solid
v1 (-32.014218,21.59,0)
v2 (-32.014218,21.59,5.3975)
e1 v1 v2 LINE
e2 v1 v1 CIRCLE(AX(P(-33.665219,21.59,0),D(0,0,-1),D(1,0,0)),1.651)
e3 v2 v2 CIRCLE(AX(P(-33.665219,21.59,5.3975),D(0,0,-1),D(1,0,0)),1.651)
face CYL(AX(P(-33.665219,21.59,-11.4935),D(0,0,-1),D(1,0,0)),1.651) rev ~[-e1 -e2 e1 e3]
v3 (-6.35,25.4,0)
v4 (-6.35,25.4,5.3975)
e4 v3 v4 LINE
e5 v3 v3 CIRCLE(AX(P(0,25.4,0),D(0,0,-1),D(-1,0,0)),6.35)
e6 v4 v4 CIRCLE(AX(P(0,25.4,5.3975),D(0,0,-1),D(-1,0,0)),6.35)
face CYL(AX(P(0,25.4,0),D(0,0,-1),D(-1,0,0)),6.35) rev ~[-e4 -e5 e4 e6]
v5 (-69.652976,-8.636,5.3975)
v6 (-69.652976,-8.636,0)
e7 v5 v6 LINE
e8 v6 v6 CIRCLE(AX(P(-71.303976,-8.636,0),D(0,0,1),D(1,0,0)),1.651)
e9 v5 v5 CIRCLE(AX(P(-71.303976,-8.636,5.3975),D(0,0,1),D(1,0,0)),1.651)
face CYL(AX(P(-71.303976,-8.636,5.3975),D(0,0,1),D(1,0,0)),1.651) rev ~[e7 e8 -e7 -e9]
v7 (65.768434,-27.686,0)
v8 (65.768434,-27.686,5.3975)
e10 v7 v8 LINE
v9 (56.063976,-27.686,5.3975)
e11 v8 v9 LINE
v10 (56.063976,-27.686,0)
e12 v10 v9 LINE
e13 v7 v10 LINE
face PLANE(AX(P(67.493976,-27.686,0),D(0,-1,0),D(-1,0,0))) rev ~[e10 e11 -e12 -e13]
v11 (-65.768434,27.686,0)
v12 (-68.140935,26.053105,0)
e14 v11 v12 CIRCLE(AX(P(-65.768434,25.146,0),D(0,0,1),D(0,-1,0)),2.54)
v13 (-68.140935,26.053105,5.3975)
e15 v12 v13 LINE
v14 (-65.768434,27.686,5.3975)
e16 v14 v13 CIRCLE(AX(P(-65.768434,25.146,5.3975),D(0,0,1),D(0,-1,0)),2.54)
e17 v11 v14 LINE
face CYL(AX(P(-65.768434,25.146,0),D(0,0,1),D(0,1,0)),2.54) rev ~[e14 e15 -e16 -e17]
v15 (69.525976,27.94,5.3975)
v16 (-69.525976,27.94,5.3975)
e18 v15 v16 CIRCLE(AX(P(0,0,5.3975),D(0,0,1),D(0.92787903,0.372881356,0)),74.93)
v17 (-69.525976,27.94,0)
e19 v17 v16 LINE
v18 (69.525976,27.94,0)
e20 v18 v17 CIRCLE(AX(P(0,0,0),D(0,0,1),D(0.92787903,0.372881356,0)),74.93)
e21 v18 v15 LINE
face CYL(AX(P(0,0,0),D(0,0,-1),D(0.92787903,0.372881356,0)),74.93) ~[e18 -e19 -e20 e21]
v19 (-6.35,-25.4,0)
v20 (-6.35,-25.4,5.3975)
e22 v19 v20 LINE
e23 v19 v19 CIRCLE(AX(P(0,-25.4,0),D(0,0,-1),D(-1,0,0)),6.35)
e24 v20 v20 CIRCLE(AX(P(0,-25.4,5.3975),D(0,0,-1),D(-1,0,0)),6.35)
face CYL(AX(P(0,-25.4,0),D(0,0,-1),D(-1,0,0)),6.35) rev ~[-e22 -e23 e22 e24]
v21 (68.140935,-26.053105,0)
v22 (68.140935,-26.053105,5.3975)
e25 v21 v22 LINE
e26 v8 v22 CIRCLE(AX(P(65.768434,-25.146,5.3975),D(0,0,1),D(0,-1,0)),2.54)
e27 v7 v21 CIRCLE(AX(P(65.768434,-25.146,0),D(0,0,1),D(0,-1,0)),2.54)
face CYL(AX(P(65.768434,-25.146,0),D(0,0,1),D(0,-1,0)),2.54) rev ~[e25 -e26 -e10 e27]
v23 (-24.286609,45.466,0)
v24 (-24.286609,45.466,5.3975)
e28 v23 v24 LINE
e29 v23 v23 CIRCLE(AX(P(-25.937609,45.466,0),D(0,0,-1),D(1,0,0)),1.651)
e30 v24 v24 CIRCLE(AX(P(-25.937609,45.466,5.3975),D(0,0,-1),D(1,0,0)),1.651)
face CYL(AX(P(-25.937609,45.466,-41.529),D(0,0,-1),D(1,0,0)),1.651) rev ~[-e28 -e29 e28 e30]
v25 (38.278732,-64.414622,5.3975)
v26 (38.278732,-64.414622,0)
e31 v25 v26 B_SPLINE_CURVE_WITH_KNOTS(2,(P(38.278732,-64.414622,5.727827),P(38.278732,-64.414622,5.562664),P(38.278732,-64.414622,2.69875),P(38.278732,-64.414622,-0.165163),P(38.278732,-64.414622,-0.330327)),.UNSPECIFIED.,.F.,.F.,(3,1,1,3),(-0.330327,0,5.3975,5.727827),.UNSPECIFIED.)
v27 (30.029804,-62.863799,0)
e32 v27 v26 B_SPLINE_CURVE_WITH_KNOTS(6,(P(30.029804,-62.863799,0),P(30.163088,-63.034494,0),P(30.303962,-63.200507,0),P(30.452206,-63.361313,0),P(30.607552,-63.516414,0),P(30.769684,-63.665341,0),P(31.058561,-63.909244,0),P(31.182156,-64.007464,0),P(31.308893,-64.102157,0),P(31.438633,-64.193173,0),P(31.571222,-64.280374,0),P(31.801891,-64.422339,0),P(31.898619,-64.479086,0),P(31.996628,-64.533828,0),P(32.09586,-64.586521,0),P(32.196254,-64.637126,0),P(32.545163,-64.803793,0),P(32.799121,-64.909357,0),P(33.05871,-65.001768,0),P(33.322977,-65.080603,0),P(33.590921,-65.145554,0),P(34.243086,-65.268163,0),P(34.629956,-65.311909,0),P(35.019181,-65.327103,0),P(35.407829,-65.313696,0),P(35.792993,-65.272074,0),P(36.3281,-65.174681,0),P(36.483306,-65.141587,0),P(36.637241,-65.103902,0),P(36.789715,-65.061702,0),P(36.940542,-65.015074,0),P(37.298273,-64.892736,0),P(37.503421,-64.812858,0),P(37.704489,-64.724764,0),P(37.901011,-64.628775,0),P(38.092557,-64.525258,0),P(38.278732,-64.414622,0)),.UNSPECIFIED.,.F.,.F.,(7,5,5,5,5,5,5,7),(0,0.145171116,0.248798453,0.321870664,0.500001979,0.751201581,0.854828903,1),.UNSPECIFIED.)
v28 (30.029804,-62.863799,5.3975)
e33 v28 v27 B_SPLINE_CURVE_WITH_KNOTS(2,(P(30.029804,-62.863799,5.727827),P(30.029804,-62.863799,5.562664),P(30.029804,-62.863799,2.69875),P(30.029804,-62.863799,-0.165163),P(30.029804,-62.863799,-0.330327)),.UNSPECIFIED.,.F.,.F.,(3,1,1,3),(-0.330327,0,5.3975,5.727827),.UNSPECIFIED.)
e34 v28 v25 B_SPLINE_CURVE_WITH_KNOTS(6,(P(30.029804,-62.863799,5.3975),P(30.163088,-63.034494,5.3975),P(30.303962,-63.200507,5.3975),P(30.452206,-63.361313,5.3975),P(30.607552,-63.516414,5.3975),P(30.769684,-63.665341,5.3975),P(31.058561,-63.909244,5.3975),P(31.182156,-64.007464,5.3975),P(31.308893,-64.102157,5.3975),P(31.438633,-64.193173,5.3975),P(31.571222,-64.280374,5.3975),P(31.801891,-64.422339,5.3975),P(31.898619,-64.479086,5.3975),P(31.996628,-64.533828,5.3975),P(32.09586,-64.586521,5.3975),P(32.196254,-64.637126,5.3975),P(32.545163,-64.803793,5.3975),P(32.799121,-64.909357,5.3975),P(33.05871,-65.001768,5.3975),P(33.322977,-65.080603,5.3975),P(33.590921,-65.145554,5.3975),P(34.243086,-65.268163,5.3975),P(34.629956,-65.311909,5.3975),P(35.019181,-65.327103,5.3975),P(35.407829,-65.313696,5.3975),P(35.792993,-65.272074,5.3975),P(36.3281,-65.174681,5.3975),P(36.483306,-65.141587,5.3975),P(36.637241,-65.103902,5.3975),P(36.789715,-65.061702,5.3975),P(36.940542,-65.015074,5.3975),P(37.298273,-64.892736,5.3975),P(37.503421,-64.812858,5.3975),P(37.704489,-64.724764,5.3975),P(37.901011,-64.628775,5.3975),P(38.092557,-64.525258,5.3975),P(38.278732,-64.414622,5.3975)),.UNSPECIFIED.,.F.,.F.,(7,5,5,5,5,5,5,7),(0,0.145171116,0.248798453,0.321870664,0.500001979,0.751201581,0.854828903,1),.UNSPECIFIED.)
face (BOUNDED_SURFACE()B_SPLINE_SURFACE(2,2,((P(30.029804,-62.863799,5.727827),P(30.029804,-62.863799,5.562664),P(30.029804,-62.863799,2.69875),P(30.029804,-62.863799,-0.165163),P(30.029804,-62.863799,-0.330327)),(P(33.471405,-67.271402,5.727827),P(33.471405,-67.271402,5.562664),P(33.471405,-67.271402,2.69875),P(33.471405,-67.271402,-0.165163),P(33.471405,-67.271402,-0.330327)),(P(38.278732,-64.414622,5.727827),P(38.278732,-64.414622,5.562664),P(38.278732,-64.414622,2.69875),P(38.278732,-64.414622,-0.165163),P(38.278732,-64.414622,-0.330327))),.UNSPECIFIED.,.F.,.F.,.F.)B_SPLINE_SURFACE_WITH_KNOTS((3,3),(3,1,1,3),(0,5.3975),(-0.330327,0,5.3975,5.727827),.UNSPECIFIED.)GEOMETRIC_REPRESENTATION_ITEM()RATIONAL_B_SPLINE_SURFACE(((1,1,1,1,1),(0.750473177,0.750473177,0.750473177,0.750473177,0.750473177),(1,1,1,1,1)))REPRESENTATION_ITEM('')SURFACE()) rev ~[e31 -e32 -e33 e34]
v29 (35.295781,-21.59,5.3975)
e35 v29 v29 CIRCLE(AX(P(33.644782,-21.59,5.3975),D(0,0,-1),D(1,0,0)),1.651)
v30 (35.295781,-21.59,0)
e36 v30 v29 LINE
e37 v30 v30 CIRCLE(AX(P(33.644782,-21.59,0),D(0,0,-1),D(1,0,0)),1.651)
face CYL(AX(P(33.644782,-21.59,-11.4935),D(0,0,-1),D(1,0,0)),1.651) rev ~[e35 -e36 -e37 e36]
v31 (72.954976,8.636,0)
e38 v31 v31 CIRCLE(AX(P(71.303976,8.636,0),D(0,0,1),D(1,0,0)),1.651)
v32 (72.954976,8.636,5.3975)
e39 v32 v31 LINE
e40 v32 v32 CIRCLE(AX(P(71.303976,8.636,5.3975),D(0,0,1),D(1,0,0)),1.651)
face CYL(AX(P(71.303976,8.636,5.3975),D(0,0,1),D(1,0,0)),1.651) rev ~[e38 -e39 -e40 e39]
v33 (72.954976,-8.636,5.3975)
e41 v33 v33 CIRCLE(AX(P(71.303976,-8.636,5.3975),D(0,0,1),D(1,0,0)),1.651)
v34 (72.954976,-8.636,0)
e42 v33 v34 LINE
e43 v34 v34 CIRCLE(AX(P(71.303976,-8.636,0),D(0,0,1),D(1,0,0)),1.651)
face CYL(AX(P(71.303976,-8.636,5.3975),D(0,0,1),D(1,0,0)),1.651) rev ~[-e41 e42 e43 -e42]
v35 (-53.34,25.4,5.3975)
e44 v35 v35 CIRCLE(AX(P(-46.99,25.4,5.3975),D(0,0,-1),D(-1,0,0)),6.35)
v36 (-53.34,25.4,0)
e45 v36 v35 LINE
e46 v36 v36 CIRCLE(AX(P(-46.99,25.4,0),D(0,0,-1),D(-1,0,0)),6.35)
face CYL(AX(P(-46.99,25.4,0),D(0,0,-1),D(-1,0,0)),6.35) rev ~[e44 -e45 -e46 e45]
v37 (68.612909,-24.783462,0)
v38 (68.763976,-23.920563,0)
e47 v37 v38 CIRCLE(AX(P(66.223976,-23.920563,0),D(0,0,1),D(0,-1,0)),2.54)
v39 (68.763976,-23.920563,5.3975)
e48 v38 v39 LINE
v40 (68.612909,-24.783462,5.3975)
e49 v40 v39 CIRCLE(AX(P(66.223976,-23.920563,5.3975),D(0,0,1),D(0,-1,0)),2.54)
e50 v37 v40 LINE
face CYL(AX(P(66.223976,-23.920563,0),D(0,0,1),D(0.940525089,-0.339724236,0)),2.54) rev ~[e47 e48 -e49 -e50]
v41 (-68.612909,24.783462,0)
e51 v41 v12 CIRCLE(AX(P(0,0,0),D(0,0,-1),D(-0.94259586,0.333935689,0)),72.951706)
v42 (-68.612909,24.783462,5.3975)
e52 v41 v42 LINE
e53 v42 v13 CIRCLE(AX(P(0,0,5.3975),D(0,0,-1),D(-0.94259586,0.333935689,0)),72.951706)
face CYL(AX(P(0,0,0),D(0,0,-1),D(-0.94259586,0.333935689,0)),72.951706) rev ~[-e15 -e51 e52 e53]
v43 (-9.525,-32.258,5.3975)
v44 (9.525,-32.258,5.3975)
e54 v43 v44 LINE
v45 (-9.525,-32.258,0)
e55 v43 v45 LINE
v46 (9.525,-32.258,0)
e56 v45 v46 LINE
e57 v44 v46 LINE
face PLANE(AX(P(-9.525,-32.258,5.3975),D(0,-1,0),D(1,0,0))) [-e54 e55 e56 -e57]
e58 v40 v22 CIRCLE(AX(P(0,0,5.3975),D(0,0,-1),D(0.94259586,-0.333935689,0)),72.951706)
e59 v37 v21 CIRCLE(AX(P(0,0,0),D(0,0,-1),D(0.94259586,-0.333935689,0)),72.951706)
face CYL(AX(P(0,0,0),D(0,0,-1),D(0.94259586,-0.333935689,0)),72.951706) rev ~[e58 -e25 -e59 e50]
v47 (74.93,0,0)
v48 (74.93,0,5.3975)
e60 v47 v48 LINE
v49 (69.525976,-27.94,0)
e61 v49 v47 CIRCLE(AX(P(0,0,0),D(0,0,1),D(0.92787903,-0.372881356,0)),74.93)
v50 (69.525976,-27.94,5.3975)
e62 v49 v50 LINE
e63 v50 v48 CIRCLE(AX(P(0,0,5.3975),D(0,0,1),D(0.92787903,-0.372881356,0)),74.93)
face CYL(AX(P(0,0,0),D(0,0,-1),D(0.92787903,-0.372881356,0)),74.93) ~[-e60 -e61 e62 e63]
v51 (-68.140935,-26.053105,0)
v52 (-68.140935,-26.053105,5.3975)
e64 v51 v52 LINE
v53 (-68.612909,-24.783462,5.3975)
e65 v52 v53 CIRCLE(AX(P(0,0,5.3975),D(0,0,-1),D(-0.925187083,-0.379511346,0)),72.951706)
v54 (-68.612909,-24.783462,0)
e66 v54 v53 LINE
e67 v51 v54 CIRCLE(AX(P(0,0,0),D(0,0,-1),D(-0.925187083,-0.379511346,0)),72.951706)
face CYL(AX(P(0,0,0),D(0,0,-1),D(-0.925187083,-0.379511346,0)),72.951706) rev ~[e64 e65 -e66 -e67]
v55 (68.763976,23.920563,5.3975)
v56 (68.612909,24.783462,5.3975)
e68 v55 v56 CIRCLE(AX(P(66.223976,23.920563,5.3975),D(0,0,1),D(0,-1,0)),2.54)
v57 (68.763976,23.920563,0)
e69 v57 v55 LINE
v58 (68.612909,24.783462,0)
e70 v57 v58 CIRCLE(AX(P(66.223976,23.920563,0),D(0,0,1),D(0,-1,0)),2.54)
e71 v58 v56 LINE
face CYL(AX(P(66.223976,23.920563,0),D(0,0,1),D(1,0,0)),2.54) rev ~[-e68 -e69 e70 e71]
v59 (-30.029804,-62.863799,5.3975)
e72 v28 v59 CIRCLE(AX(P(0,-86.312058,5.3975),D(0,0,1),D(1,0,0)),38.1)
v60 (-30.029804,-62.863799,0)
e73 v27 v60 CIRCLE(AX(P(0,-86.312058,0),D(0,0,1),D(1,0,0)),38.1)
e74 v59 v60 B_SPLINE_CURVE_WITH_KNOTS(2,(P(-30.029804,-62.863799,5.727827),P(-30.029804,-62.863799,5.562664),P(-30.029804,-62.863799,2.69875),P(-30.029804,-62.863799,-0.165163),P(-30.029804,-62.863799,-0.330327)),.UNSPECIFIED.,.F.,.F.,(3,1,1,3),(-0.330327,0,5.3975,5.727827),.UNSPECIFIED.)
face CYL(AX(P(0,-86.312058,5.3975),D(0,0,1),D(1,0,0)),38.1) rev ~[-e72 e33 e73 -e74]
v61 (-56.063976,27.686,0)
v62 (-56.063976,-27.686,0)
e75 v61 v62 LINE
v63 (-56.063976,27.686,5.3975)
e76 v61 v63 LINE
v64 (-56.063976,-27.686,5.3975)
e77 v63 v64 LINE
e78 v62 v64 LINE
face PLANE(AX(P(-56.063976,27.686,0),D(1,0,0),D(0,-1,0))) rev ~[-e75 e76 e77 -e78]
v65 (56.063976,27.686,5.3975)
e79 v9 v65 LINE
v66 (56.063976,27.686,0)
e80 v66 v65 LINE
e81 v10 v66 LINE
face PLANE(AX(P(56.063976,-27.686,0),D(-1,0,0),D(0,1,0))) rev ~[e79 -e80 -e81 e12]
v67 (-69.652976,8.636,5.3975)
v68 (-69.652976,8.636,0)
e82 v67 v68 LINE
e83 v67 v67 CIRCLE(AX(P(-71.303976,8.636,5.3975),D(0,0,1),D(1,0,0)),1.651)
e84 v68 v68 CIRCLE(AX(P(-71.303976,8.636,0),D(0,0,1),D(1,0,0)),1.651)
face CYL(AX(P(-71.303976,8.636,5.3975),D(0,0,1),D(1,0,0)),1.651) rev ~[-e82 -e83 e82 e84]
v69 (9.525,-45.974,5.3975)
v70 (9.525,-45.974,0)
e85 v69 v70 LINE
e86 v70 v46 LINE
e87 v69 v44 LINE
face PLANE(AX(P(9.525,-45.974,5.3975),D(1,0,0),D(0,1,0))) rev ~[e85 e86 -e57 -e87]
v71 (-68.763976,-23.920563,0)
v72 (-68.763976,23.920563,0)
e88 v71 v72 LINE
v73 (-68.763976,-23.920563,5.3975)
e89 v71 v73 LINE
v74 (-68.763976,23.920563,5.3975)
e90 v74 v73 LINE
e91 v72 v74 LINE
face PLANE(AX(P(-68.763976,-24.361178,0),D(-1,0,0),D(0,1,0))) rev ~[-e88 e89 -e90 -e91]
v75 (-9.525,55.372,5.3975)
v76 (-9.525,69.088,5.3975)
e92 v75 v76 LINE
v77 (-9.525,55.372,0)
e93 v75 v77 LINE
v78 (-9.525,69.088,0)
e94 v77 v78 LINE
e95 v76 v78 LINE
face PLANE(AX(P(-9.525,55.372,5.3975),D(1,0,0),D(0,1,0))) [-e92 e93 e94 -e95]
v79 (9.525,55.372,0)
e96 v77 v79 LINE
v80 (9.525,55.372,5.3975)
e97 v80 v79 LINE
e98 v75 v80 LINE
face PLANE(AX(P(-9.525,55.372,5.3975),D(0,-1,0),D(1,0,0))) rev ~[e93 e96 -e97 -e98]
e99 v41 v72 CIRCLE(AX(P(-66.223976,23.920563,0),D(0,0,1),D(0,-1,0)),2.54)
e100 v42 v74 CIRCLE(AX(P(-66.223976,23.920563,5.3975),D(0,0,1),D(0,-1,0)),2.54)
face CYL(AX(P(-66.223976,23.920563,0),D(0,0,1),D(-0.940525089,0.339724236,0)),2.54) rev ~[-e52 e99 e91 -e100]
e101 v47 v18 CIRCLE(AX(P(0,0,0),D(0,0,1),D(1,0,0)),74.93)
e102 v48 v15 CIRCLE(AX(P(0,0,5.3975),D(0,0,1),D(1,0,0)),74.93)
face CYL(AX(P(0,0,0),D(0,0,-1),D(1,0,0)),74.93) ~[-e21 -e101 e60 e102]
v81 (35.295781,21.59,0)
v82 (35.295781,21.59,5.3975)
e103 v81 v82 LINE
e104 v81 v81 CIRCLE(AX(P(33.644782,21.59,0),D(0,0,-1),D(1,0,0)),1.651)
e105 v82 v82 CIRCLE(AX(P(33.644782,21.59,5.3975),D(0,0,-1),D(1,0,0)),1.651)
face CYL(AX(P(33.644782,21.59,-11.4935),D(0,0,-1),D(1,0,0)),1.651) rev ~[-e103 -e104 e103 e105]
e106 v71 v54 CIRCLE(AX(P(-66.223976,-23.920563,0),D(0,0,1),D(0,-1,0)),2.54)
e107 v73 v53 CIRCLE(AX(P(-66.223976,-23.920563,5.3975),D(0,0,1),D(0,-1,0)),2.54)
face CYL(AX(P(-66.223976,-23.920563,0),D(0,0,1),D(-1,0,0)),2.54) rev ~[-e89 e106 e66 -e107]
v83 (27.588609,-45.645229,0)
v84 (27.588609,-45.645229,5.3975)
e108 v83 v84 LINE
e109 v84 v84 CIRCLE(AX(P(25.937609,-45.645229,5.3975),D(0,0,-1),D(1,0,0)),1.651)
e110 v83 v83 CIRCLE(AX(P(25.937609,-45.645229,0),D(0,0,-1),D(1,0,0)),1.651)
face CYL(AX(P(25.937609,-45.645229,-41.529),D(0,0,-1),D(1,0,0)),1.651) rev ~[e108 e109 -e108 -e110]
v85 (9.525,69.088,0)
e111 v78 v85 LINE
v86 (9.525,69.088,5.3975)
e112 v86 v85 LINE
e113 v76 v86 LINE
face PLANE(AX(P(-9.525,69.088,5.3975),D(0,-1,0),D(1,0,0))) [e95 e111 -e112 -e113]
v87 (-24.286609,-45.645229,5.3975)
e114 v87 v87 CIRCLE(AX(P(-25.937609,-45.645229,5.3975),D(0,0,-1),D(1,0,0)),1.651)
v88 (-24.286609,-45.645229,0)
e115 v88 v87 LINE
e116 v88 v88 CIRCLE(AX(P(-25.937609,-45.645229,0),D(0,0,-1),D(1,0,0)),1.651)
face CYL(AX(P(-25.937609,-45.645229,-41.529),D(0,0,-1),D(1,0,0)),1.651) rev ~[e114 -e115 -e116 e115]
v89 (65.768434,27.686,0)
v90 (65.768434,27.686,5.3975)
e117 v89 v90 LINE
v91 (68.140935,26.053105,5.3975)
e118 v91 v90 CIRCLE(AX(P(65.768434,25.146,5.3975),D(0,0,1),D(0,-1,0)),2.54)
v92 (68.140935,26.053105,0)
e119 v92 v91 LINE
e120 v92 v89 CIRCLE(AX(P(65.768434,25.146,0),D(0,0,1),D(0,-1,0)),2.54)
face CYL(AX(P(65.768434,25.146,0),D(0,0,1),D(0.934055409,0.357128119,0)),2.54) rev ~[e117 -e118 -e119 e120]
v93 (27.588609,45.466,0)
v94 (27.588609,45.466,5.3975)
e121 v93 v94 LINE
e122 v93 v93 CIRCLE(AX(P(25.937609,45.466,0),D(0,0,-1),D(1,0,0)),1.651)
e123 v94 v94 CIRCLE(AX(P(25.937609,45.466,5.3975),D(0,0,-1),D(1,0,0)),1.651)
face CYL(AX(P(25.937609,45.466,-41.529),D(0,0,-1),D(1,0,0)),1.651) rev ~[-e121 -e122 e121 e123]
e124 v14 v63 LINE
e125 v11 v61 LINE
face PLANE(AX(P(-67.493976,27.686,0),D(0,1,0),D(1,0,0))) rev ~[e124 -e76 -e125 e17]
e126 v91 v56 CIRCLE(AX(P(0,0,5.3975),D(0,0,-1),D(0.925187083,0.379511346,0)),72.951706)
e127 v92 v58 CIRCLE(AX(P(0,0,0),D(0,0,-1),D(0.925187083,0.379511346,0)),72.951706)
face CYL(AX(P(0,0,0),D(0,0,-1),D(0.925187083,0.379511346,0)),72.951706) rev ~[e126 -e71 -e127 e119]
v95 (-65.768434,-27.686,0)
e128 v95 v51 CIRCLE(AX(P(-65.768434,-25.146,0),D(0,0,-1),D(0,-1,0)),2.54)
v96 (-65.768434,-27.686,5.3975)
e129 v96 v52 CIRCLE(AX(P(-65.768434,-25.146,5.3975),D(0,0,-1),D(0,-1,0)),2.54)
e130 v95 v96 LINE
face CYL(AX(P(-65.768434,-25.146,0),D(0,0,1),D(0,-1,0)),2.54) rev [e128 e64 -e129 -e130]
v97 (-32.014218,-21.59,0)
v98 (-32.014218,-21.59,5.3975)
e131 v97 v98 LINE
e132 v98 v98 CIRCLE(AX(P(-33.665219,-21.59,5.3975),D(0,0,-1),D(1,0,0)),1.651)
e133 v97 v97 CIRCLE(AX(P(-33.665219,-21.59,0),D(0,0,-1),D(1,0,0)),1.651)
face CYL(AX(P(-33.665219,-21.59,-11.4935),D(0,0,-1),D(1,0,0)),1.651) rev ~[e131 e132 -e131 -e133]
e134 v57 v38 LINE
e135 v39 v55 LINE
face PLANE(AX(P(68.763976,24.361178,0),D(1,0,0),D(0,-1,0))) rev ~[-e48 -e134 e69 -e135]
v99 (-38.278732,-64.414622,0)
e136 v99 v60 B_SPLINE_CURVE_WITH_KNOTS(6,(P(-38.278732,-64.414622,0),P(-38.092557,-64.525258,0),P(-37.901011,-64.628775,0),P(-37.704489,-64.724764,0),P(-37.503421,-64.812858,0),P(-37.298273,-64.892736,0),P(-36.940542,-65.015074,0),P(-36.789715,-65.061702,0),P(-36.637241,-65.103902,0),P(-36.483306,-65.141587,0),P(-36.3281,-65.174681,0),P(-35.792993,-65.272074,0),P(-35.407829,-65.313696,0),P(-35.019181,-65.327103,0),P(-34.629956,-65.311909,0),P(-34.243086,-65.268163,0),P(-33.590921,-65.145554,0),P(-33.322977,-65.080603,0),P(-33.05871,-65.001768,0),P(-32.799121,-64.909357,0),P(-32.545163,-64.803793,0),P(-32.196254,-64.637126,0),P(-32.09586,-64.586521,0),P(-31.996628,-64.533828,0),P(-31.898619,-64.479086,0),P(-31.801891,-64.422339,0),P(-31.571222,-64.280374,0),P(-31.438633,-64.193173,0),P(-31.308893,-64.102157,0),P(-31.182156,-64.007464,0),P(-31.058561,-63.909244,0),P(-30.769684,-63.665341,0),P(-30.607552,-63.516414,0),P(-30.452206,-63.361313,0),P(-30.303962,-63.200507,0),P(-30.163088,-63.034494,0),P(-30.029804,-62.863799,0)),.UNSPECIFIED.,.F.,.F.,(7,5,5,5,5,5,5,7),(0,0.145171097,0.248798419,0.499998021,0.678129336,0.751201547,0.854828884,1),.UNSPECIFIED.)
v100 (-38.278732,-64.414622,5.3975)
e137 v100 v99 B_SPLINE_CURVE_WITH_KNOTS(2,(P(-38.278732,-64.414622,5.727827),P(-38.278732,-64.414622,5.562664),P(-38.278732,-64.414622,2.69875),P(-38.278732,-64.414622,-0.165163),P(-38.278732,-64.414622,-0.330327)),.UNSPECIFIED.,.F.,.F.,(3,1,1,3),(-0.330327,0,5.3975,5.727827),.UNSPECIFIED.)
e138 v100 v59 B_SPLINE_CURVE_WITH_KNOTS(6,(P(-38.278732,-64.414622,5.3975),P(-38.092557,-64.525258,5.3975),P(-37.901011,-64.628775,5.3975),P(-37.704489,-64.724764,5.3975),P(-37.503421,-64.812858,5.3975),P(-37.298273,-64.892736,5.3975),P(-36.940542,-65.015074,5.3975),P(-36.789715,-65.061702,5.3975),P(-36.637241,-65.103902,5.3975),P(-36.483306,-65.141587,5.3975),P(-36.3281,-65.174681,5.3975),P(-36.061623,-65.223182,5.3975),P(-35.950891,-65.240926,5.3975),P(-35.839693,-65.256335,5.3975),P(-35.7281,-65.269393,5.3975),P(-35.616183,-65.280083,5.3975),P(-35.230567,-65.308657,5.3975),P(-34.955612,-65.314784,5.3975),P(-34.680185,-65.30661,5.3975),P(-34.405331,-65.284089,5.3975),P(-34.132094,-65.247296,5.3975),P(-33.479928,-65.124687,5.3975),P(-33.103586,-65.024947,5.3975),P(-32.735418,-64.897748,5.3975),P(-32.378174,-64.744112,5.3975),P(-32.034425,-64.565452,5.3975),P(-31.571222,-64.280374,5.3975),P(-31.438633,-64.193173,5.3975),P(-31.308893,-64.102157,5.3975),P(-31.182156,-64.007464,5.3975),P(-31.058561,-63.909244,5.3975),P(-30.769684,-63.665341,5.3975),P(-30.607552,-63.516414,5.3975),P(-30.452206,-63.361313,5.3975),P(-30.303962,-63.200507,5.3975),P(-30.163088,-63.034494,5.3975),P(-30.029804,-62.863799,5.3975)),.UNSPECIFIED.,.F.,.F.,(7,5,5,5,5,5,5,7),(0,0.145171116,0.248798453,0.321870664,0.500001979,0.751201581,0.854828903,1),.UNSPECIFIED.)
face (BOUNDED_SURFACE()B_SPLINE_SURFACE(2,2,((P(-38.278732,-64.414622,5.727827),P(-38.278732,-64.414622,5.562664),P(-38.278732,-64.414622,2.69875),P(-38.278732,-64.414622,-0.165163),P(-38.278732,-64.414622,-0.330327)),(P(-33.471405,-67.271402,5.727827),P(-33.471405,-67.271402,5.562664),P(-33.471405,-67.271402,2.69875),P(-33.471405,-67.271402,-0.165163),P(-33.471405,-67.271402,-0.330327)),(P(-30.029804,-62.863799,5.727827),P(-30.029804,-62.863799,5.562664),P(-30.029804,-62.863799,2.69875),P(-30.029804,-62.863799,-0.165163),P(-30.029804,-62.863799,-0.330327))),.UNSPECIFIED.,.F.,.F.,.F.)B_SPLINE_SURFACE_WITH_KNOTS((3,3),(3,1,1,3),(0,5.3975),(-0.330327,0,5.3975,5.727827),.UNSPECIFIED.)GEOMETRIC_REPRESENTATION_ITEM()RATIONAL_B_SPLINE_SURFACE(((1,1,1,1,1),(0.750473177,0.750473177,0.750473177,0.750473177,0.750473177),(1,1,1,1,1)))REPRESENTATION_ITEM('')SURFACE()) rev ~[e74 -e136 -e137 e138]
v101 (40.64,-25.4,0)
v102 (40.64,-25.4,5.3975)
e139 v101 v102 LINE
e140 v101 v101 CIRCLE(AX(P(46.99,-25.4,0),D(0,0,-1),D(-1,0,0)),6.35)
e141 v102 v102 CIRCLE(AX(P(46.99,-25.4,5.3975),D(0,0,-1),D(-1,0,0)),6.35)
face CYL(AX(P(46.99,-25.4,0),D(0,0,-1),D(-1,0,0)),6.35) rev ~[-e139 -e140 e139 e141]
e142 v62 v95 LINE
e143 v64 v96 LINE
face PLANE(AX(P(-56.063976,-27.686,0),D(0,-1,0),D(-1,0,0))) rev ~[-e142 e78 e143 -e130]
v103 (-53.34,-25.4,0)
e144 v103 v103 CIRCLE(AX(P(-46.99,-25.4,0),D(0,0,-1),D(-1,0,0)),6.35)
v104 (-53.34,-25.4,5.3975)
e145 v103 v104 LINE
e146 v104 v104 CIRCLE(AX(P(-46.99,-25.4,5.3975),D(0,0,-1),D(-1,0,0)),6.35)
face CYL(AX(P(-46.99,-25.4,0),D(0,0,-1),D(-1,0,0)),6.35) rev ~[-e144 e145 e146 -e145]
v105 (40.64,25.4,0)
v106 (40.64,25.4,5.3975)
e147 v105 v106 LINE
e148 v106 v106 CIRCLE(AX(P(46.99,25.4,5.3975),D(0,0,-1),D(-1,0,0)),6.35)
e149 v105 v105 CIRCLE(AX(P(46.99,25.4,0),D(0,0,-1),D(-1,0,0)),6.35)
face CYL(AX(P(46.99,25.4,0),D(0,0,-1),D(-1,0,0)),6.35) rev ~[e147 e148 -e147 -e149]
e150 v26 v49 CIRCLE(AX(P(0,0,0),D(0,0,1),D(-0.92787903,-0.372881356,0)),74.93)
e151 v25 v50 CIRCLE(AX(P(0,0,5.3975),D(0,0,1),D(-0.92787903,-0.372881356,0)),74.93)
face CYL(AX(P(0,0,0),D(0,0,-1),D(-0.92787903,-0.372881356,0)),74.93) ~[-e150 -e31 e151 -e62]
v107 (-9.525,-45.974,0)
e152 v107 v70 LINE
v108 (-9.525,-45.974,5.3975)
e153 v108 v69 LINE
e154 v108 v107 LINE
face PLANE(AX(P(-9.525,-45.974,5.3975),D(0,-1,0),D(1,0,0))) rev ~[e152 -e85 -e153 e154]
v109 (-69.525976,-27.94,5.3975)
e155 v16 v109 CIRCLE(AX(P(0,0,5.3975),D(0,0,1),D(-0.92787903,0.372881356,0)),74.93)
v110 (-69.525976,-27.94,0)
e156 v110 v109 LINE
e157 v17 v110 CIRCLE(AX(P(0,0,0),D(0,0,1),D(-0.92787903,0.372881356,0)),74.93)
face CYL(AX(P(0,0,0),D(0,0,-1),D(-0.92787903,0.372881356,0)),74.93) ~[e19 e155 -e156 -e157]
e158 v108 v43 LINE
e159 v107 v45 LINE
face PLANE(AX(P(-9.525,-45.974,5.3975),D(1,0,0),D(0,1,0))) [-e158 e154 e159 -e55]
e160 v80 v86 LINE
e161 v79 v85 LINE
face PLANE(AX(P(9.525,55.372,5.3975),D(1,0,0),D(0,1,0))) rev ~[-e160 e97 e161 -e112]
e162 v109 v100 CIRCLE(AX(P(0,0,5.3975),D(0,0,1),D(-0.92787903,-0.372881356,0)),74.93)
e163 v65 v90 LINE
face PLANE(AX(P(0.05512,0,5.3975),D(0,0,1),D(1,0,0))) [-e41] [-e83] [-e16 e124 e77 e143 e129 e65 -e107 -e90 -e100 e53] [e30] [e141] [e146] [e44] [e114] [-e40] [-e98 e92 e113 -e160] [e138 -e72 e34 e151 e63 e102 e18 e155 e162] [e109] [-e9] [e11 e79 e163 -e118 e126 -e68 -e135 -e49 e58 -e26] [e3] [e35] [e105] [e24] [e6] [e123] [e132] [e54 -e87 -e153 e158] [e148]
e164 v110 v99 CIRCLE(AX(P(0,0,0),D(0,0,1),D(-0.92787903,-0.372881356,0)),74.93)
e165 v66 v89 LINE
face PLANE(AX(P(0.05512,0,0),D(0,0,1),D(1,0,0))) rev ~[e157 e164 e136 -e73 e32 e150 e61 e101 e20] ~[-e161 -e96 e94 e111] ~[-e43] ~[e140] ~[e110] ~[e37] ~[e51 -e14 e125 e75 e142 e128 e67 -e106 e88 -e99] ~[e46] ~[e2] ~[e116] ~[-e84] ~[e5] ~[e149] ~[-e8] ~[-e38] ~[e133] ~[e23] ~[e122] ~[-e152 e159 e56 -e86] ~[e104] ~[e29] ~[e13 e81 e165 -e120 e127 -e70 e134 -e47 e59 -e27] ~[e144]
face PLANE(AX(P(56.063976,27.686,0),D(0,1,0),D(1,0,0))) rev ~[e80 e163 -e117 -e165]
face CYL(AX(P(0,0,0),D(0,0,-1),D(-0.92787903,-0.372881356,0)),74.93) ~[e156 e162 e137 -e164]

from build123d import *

# Parameters (mm, degrees)
BOSS_EXTRUDE2_DEPTH      = 5.3975
SKETCH2_W                = 19.05
SKETCH2_H                = 13.716
CUT_EXTRUDE1_DEPTH       = 107.104395791
SKETCH3_R                = 38.1
CUT_EXTRUDE2_DEPTH       = 107.104395791
FILLET1_R                = 6.35
SKETCH8_R                = 1.651
CUT_EXTRUDE7_DEPTH       = 75.692
SKETCH10_R               = 1.651
CUT_EXTRUDE9_DEPTH       = 97.79
SKETCH11_R               = 1.651
CUT_EXTRUDE10_DEPTH      = 150.876
SKETCH12_R               = 3.175
CUT_EXTRUDE11_DEPTH      = 103.378
CUT_EXTRUDE11_DEPTH_BACK = 48.768
SKETCH13_R               = 6.35
CUT_EXTRUDE12_DEPTH      = 26.416
SKETCH14_W               = 19.05
SKETCH14_H               = 13.716
CUT_EXTRUDE13_DEPTH      = 107.104395938
CUT_EXTRUDE14_DEPTH      = 107.104395938
FILLET2_R                = 2.54
FILLET3_R                = 2.54


with BuildPart() as part:
    # Sketch1 → Boss-Extrude2 (new body)
    with BuildSketch(Plane.XY):
        with BuildLine():
            ThreePointArc((-69.525975721, 27.94), (-74.93, 0), (-69.525975721, -27.94))
            ThreePointArc((-69.525975721, -27.94), (0, -74.93), (69.525975721, -27.94))
            ThreePointArc((69.525975721, -27.94), (73.56658977, -14.228906128), (74.93, 0))
            ThreePointArc((74.93, 0), (73.56658977, 14.228906128), (69.525975721, 27.94))
            ThreePointArc((69.525975721, 27.94), (0, 74.93), (-69.525975721, 27.94))
        make_face()
        Polygon((-67.493975721, 27.686), (-66.223975721, 27.686), (-56.063975721, 27.686), (-56.063975721, -27.686), (-66.223975721, -27.686), (-67.493975721, -27.686), (-67.493975721, -26.416), (-67.493975721, 26.416), align=None, mode=Mode.SUBTRACT)
        Polygon((67.493975721, 27.686), (67.493975721, 26.416), (67.493975721, -26.416), (67.493975721, -27.686), (66.223975721, -27.686), (56.063975721, -27.686), (56.063975721, 27.686), (66.223975721, 27.686), align=None, mode=Mode.SUBTRACT)
    extrude(amount=BOSS_EXTRUDE2_DEPTH)

    # Sketch2 → Cut-Extrude1 (cut, through all)
    with BuildSketch(Plane.XY.offset(5.3975)):
        with Locations((0, 62.23)):
            Rectangle(SKETCH2_W, SKETCH2_H)
    extrude(amount=-CUT_EXTRUDE1_DEPTH, mode=Mode.SUBTRACT)

    # Sketch3 → Cut-Extrude2 (cut, through all)
    with BuildSketch(Plane.XY.offset(5.3975)):
        with Locations((0, -86.312058398)):
            Circle(SKETCH3_R)
    extrude(amount=-CUT_EXTRUDE2_DEPTH, mode=Mode.SUBTRACT)

    # Fillet1
    fillet1_edges = [part.edges().sort_by_distance(p)[0] for p in [
        (-33.000960548, -67.271401821, 2.69875),
        (33.000960548, -67.271401821, 2.69875),
    ]]
    fillet(fillet1_edges, radius=FILLET1_R)

    # Sketch8 → Cut-Extrude7 (cut)
    with BuildSketch(Plane(origin=(30.092005081, 4.08352975, -11.4935), x_dir=(-1, 0, 0), z_dir=(0, 0, -1))):
        with Locations(Location((63.757223581, 17.50647025, 0), (0, 0, 180))):
            Circle(SKETCH8_R)
        with Locations(Location((63.757223581, -25.67352975, 0), (0, 0, 180))):
            Circle(SKETCH8_R)
        with Locations(Location((-3.552776419, -25.67352975, 0), (0, 0, 180))):
            Circle(SKETCH8_R)
        with Locations(Location((-3.552776419, 17.50647025, 0), (0, 0, 180))):
            Circle(SKETCH8_R)
    extrude(amount=-CUT_EXTRUDE7_DEPTH, mode=Mode.SUBTRACT)

    # Sketch10 → Cut-Extrude9 (cut)
    with BuildSketch(Plane(origin=(30.092005081, 4.08352975, -41.529), x_dir=(-1, 0, 0), z_dir=(0, 0, -1))):
        with Locations(Location((4.154396091, -49.728759131, 0), (0, 0, 180))):
            Circle(SKETCH10_R)
        with Locations(Location((56.02961407, -49.728759131, 0), (0, 0, 180))):
            Circle(SKETCH10_R)
        with Locations(Location((4.154396091, 41.38247025, 0), (0, 0, 180))):
            Circle(SKETCH10_R)
        with Locations(Location((56.02961407, 41.38247025, 0), (0, 0, 180))):
            Circle(SKETCH10_R)
    extrude(amount=-CUT_EXTRUDE9_DEPTH, mode=Mode.SUBTRACT)

    # Sketch11 → Cut-Extrude10 (cut)
    with BuildSketch(Plane(origin=(30.092005081, 4.08352975, 5.3975), x_dir=(1, 0, 0), z_dir=(0, 0, 1))):
        with Locations((-101.395980802, -12.71952975)):
            Circle(SKETCH11_R)
        with Locations((-101.395980802, 4.55247025)):
            Circle(SKETCH11_R)
        with Locations((41.211970641, -12.71952975)):
            Circle(SKETCH11_R)
        with Locations((41.211970641, 4.55247025)):
            Circle(SKETCH11_R)
    extrude(amount=-CUT_EXTRUDE10_DEPTH, mode=Mode.SUBTRACT)

    # Sketch12 → Cut-Extrude11 (cut, two sides)
    with BuildSketch(Plane(origin=(30.092005081, 4.08352975, -5.3975), x_dir=(-1, 0, 0), z_dir=(0, 0, -1))) as cut_extrude11_sk:
        with Locations(Location((-16.897994919, 21.31647025, 0), (0, 0, 180))):
            Circle(SKETCH12_R)
        with Locations(Location((77.082005081, 21.31647025, 0), (0, 0, 180))):
            Circle(SKETCH12_R)
        with Locations(Location((30.092005081, 21.31647025, 0), (0, 0, 180))):
            Circle(SKETCH12_R)
        with Locations(Location((77.082005081, -29.48352975, 0), (0, 0, 180))):
            Circle(SKETCH12_R)
        with Locations(Location((30.092005081, -29.48352975, 0), (0, 0, 180))):
            Circle(SKETCH12_R)
        with Locations(Location((-16.897994919, -29.48352975, 0), (0, 0, 180))):
            Circle(SKETCH12_R)
    extrude(amount=CUT_EXTRUDE11_DEPTH, mode=Mode.SUBTRACT)
    extrude(cut_extrude11_sk.sketch, amount=-CUT_EXTRUDE11_DEPTH_BACK, mode=Mode.SUBTRACT)

    # Sketch13 → Cut-Extrude12 (cut)
    with BuildSketch(Plane(origin=(0, 0, 0), x_dir=(-1, 0, 0), z_dir=(0, 0, -1))):
        with Locations((46.99, 25.4)):
            Circle(SKETCH13_R)
        with Locations((0, 25.4)):
            Circle(SKETCH13_R)
        with Locations((-46.99, 25.4)):
            Circle(SKETCH13_R)
        with Locations((-46.99, -25.4)):
            Circle(SKETCH13_R)
        with Locations((0, -25.4)):
            Circle(SKETCH13_R)
        with Locations((46.99, -25.4)):
            Circle(SKETCH13_R)
    extrude(amount=-CUT_EXTRUDE12_DEPTH, mode=Mode.SUBTRACT)

    # Sketch14 → Cut-Extrude13 (cut, through all)
    with BuildSketch(Plane.XY.offset(5.3975)):
        with Locations((0, -39.116)):
            Rectangle(SKETCH14_W, SKETCH14_H)
    extrude(amount=-CUT_EXTRUDE13_DEPTH, mode=Mode.SUBTRACT)

    # Sketch15 → Cut-Extrude14 (cut, through all)
    with BuildSketch(Plane(origin=(0, 0, 0), x_dir=(-1, 0, 0), z_dir=(0, 0, -1))):
        with BuildLine():
            ThreePointArc((67.493975721, -27.686), (68.149254897, -26.031335187), (68.763975721, -24.361178085))
            Line((68.763975721, -24.361178085), (68.763975721, 24.361178085))
            ThreePointArc((68.763975721, 24.361178085), (68.149254897, 26.031335187), (67.493975721, 27.686))
            Line((67.493975721, 27.686), (67.493975721, -27.686))
        make_face()
        with BuildLine():
            ThreePointArc((-68.763975721, -24.361178085), (-68.149254897, -26.031335187), (-67.493975721, -27.686))
            Line((-67.493975721, -27.686), (-67.493975721, 27.686))
            ThreePointArc((-67.493975721, 27.686), (-68.149254897, 26.031335187), (-68.763975721, 24.361178085))
            Line((-68.763975721, 24.361178085), (-68.763975721, -24.361178085))
        make_face()
    extrude(amount=-CUT_EXTRUDE14_DEPTH, mode=Mode.SUBTRACT)

    # Fillet2
    fillet2_edges = [part.edges().sort_by_distance(p)[0] for p in [
        (-67.493975721, 27.686, 2.69875),
        (-67.493975721, -27.686, 2.69875),
        (-68.763975721, 24.361178085, 2.69875),
        (-68.763975721, -24.361178085, 2.69875),
    ]]
    fillet(fillet2_edges, radius=FILLET2_R)

    # Fillet3
    fillet3_edges = [part.edges().sort_by_distance(p)[0] for p in [
        (67.493975721, -27.686, 2.69875),
        (67.493975721, 27.686, 2.69875),
        (68.763975721, -24.361178085, 2.69875),
        (68.763975721, 24.361178085, 2.69875),
    ]]
    fillet(fillet3_edges, radius=FILLET3_R)


solid = part.part
